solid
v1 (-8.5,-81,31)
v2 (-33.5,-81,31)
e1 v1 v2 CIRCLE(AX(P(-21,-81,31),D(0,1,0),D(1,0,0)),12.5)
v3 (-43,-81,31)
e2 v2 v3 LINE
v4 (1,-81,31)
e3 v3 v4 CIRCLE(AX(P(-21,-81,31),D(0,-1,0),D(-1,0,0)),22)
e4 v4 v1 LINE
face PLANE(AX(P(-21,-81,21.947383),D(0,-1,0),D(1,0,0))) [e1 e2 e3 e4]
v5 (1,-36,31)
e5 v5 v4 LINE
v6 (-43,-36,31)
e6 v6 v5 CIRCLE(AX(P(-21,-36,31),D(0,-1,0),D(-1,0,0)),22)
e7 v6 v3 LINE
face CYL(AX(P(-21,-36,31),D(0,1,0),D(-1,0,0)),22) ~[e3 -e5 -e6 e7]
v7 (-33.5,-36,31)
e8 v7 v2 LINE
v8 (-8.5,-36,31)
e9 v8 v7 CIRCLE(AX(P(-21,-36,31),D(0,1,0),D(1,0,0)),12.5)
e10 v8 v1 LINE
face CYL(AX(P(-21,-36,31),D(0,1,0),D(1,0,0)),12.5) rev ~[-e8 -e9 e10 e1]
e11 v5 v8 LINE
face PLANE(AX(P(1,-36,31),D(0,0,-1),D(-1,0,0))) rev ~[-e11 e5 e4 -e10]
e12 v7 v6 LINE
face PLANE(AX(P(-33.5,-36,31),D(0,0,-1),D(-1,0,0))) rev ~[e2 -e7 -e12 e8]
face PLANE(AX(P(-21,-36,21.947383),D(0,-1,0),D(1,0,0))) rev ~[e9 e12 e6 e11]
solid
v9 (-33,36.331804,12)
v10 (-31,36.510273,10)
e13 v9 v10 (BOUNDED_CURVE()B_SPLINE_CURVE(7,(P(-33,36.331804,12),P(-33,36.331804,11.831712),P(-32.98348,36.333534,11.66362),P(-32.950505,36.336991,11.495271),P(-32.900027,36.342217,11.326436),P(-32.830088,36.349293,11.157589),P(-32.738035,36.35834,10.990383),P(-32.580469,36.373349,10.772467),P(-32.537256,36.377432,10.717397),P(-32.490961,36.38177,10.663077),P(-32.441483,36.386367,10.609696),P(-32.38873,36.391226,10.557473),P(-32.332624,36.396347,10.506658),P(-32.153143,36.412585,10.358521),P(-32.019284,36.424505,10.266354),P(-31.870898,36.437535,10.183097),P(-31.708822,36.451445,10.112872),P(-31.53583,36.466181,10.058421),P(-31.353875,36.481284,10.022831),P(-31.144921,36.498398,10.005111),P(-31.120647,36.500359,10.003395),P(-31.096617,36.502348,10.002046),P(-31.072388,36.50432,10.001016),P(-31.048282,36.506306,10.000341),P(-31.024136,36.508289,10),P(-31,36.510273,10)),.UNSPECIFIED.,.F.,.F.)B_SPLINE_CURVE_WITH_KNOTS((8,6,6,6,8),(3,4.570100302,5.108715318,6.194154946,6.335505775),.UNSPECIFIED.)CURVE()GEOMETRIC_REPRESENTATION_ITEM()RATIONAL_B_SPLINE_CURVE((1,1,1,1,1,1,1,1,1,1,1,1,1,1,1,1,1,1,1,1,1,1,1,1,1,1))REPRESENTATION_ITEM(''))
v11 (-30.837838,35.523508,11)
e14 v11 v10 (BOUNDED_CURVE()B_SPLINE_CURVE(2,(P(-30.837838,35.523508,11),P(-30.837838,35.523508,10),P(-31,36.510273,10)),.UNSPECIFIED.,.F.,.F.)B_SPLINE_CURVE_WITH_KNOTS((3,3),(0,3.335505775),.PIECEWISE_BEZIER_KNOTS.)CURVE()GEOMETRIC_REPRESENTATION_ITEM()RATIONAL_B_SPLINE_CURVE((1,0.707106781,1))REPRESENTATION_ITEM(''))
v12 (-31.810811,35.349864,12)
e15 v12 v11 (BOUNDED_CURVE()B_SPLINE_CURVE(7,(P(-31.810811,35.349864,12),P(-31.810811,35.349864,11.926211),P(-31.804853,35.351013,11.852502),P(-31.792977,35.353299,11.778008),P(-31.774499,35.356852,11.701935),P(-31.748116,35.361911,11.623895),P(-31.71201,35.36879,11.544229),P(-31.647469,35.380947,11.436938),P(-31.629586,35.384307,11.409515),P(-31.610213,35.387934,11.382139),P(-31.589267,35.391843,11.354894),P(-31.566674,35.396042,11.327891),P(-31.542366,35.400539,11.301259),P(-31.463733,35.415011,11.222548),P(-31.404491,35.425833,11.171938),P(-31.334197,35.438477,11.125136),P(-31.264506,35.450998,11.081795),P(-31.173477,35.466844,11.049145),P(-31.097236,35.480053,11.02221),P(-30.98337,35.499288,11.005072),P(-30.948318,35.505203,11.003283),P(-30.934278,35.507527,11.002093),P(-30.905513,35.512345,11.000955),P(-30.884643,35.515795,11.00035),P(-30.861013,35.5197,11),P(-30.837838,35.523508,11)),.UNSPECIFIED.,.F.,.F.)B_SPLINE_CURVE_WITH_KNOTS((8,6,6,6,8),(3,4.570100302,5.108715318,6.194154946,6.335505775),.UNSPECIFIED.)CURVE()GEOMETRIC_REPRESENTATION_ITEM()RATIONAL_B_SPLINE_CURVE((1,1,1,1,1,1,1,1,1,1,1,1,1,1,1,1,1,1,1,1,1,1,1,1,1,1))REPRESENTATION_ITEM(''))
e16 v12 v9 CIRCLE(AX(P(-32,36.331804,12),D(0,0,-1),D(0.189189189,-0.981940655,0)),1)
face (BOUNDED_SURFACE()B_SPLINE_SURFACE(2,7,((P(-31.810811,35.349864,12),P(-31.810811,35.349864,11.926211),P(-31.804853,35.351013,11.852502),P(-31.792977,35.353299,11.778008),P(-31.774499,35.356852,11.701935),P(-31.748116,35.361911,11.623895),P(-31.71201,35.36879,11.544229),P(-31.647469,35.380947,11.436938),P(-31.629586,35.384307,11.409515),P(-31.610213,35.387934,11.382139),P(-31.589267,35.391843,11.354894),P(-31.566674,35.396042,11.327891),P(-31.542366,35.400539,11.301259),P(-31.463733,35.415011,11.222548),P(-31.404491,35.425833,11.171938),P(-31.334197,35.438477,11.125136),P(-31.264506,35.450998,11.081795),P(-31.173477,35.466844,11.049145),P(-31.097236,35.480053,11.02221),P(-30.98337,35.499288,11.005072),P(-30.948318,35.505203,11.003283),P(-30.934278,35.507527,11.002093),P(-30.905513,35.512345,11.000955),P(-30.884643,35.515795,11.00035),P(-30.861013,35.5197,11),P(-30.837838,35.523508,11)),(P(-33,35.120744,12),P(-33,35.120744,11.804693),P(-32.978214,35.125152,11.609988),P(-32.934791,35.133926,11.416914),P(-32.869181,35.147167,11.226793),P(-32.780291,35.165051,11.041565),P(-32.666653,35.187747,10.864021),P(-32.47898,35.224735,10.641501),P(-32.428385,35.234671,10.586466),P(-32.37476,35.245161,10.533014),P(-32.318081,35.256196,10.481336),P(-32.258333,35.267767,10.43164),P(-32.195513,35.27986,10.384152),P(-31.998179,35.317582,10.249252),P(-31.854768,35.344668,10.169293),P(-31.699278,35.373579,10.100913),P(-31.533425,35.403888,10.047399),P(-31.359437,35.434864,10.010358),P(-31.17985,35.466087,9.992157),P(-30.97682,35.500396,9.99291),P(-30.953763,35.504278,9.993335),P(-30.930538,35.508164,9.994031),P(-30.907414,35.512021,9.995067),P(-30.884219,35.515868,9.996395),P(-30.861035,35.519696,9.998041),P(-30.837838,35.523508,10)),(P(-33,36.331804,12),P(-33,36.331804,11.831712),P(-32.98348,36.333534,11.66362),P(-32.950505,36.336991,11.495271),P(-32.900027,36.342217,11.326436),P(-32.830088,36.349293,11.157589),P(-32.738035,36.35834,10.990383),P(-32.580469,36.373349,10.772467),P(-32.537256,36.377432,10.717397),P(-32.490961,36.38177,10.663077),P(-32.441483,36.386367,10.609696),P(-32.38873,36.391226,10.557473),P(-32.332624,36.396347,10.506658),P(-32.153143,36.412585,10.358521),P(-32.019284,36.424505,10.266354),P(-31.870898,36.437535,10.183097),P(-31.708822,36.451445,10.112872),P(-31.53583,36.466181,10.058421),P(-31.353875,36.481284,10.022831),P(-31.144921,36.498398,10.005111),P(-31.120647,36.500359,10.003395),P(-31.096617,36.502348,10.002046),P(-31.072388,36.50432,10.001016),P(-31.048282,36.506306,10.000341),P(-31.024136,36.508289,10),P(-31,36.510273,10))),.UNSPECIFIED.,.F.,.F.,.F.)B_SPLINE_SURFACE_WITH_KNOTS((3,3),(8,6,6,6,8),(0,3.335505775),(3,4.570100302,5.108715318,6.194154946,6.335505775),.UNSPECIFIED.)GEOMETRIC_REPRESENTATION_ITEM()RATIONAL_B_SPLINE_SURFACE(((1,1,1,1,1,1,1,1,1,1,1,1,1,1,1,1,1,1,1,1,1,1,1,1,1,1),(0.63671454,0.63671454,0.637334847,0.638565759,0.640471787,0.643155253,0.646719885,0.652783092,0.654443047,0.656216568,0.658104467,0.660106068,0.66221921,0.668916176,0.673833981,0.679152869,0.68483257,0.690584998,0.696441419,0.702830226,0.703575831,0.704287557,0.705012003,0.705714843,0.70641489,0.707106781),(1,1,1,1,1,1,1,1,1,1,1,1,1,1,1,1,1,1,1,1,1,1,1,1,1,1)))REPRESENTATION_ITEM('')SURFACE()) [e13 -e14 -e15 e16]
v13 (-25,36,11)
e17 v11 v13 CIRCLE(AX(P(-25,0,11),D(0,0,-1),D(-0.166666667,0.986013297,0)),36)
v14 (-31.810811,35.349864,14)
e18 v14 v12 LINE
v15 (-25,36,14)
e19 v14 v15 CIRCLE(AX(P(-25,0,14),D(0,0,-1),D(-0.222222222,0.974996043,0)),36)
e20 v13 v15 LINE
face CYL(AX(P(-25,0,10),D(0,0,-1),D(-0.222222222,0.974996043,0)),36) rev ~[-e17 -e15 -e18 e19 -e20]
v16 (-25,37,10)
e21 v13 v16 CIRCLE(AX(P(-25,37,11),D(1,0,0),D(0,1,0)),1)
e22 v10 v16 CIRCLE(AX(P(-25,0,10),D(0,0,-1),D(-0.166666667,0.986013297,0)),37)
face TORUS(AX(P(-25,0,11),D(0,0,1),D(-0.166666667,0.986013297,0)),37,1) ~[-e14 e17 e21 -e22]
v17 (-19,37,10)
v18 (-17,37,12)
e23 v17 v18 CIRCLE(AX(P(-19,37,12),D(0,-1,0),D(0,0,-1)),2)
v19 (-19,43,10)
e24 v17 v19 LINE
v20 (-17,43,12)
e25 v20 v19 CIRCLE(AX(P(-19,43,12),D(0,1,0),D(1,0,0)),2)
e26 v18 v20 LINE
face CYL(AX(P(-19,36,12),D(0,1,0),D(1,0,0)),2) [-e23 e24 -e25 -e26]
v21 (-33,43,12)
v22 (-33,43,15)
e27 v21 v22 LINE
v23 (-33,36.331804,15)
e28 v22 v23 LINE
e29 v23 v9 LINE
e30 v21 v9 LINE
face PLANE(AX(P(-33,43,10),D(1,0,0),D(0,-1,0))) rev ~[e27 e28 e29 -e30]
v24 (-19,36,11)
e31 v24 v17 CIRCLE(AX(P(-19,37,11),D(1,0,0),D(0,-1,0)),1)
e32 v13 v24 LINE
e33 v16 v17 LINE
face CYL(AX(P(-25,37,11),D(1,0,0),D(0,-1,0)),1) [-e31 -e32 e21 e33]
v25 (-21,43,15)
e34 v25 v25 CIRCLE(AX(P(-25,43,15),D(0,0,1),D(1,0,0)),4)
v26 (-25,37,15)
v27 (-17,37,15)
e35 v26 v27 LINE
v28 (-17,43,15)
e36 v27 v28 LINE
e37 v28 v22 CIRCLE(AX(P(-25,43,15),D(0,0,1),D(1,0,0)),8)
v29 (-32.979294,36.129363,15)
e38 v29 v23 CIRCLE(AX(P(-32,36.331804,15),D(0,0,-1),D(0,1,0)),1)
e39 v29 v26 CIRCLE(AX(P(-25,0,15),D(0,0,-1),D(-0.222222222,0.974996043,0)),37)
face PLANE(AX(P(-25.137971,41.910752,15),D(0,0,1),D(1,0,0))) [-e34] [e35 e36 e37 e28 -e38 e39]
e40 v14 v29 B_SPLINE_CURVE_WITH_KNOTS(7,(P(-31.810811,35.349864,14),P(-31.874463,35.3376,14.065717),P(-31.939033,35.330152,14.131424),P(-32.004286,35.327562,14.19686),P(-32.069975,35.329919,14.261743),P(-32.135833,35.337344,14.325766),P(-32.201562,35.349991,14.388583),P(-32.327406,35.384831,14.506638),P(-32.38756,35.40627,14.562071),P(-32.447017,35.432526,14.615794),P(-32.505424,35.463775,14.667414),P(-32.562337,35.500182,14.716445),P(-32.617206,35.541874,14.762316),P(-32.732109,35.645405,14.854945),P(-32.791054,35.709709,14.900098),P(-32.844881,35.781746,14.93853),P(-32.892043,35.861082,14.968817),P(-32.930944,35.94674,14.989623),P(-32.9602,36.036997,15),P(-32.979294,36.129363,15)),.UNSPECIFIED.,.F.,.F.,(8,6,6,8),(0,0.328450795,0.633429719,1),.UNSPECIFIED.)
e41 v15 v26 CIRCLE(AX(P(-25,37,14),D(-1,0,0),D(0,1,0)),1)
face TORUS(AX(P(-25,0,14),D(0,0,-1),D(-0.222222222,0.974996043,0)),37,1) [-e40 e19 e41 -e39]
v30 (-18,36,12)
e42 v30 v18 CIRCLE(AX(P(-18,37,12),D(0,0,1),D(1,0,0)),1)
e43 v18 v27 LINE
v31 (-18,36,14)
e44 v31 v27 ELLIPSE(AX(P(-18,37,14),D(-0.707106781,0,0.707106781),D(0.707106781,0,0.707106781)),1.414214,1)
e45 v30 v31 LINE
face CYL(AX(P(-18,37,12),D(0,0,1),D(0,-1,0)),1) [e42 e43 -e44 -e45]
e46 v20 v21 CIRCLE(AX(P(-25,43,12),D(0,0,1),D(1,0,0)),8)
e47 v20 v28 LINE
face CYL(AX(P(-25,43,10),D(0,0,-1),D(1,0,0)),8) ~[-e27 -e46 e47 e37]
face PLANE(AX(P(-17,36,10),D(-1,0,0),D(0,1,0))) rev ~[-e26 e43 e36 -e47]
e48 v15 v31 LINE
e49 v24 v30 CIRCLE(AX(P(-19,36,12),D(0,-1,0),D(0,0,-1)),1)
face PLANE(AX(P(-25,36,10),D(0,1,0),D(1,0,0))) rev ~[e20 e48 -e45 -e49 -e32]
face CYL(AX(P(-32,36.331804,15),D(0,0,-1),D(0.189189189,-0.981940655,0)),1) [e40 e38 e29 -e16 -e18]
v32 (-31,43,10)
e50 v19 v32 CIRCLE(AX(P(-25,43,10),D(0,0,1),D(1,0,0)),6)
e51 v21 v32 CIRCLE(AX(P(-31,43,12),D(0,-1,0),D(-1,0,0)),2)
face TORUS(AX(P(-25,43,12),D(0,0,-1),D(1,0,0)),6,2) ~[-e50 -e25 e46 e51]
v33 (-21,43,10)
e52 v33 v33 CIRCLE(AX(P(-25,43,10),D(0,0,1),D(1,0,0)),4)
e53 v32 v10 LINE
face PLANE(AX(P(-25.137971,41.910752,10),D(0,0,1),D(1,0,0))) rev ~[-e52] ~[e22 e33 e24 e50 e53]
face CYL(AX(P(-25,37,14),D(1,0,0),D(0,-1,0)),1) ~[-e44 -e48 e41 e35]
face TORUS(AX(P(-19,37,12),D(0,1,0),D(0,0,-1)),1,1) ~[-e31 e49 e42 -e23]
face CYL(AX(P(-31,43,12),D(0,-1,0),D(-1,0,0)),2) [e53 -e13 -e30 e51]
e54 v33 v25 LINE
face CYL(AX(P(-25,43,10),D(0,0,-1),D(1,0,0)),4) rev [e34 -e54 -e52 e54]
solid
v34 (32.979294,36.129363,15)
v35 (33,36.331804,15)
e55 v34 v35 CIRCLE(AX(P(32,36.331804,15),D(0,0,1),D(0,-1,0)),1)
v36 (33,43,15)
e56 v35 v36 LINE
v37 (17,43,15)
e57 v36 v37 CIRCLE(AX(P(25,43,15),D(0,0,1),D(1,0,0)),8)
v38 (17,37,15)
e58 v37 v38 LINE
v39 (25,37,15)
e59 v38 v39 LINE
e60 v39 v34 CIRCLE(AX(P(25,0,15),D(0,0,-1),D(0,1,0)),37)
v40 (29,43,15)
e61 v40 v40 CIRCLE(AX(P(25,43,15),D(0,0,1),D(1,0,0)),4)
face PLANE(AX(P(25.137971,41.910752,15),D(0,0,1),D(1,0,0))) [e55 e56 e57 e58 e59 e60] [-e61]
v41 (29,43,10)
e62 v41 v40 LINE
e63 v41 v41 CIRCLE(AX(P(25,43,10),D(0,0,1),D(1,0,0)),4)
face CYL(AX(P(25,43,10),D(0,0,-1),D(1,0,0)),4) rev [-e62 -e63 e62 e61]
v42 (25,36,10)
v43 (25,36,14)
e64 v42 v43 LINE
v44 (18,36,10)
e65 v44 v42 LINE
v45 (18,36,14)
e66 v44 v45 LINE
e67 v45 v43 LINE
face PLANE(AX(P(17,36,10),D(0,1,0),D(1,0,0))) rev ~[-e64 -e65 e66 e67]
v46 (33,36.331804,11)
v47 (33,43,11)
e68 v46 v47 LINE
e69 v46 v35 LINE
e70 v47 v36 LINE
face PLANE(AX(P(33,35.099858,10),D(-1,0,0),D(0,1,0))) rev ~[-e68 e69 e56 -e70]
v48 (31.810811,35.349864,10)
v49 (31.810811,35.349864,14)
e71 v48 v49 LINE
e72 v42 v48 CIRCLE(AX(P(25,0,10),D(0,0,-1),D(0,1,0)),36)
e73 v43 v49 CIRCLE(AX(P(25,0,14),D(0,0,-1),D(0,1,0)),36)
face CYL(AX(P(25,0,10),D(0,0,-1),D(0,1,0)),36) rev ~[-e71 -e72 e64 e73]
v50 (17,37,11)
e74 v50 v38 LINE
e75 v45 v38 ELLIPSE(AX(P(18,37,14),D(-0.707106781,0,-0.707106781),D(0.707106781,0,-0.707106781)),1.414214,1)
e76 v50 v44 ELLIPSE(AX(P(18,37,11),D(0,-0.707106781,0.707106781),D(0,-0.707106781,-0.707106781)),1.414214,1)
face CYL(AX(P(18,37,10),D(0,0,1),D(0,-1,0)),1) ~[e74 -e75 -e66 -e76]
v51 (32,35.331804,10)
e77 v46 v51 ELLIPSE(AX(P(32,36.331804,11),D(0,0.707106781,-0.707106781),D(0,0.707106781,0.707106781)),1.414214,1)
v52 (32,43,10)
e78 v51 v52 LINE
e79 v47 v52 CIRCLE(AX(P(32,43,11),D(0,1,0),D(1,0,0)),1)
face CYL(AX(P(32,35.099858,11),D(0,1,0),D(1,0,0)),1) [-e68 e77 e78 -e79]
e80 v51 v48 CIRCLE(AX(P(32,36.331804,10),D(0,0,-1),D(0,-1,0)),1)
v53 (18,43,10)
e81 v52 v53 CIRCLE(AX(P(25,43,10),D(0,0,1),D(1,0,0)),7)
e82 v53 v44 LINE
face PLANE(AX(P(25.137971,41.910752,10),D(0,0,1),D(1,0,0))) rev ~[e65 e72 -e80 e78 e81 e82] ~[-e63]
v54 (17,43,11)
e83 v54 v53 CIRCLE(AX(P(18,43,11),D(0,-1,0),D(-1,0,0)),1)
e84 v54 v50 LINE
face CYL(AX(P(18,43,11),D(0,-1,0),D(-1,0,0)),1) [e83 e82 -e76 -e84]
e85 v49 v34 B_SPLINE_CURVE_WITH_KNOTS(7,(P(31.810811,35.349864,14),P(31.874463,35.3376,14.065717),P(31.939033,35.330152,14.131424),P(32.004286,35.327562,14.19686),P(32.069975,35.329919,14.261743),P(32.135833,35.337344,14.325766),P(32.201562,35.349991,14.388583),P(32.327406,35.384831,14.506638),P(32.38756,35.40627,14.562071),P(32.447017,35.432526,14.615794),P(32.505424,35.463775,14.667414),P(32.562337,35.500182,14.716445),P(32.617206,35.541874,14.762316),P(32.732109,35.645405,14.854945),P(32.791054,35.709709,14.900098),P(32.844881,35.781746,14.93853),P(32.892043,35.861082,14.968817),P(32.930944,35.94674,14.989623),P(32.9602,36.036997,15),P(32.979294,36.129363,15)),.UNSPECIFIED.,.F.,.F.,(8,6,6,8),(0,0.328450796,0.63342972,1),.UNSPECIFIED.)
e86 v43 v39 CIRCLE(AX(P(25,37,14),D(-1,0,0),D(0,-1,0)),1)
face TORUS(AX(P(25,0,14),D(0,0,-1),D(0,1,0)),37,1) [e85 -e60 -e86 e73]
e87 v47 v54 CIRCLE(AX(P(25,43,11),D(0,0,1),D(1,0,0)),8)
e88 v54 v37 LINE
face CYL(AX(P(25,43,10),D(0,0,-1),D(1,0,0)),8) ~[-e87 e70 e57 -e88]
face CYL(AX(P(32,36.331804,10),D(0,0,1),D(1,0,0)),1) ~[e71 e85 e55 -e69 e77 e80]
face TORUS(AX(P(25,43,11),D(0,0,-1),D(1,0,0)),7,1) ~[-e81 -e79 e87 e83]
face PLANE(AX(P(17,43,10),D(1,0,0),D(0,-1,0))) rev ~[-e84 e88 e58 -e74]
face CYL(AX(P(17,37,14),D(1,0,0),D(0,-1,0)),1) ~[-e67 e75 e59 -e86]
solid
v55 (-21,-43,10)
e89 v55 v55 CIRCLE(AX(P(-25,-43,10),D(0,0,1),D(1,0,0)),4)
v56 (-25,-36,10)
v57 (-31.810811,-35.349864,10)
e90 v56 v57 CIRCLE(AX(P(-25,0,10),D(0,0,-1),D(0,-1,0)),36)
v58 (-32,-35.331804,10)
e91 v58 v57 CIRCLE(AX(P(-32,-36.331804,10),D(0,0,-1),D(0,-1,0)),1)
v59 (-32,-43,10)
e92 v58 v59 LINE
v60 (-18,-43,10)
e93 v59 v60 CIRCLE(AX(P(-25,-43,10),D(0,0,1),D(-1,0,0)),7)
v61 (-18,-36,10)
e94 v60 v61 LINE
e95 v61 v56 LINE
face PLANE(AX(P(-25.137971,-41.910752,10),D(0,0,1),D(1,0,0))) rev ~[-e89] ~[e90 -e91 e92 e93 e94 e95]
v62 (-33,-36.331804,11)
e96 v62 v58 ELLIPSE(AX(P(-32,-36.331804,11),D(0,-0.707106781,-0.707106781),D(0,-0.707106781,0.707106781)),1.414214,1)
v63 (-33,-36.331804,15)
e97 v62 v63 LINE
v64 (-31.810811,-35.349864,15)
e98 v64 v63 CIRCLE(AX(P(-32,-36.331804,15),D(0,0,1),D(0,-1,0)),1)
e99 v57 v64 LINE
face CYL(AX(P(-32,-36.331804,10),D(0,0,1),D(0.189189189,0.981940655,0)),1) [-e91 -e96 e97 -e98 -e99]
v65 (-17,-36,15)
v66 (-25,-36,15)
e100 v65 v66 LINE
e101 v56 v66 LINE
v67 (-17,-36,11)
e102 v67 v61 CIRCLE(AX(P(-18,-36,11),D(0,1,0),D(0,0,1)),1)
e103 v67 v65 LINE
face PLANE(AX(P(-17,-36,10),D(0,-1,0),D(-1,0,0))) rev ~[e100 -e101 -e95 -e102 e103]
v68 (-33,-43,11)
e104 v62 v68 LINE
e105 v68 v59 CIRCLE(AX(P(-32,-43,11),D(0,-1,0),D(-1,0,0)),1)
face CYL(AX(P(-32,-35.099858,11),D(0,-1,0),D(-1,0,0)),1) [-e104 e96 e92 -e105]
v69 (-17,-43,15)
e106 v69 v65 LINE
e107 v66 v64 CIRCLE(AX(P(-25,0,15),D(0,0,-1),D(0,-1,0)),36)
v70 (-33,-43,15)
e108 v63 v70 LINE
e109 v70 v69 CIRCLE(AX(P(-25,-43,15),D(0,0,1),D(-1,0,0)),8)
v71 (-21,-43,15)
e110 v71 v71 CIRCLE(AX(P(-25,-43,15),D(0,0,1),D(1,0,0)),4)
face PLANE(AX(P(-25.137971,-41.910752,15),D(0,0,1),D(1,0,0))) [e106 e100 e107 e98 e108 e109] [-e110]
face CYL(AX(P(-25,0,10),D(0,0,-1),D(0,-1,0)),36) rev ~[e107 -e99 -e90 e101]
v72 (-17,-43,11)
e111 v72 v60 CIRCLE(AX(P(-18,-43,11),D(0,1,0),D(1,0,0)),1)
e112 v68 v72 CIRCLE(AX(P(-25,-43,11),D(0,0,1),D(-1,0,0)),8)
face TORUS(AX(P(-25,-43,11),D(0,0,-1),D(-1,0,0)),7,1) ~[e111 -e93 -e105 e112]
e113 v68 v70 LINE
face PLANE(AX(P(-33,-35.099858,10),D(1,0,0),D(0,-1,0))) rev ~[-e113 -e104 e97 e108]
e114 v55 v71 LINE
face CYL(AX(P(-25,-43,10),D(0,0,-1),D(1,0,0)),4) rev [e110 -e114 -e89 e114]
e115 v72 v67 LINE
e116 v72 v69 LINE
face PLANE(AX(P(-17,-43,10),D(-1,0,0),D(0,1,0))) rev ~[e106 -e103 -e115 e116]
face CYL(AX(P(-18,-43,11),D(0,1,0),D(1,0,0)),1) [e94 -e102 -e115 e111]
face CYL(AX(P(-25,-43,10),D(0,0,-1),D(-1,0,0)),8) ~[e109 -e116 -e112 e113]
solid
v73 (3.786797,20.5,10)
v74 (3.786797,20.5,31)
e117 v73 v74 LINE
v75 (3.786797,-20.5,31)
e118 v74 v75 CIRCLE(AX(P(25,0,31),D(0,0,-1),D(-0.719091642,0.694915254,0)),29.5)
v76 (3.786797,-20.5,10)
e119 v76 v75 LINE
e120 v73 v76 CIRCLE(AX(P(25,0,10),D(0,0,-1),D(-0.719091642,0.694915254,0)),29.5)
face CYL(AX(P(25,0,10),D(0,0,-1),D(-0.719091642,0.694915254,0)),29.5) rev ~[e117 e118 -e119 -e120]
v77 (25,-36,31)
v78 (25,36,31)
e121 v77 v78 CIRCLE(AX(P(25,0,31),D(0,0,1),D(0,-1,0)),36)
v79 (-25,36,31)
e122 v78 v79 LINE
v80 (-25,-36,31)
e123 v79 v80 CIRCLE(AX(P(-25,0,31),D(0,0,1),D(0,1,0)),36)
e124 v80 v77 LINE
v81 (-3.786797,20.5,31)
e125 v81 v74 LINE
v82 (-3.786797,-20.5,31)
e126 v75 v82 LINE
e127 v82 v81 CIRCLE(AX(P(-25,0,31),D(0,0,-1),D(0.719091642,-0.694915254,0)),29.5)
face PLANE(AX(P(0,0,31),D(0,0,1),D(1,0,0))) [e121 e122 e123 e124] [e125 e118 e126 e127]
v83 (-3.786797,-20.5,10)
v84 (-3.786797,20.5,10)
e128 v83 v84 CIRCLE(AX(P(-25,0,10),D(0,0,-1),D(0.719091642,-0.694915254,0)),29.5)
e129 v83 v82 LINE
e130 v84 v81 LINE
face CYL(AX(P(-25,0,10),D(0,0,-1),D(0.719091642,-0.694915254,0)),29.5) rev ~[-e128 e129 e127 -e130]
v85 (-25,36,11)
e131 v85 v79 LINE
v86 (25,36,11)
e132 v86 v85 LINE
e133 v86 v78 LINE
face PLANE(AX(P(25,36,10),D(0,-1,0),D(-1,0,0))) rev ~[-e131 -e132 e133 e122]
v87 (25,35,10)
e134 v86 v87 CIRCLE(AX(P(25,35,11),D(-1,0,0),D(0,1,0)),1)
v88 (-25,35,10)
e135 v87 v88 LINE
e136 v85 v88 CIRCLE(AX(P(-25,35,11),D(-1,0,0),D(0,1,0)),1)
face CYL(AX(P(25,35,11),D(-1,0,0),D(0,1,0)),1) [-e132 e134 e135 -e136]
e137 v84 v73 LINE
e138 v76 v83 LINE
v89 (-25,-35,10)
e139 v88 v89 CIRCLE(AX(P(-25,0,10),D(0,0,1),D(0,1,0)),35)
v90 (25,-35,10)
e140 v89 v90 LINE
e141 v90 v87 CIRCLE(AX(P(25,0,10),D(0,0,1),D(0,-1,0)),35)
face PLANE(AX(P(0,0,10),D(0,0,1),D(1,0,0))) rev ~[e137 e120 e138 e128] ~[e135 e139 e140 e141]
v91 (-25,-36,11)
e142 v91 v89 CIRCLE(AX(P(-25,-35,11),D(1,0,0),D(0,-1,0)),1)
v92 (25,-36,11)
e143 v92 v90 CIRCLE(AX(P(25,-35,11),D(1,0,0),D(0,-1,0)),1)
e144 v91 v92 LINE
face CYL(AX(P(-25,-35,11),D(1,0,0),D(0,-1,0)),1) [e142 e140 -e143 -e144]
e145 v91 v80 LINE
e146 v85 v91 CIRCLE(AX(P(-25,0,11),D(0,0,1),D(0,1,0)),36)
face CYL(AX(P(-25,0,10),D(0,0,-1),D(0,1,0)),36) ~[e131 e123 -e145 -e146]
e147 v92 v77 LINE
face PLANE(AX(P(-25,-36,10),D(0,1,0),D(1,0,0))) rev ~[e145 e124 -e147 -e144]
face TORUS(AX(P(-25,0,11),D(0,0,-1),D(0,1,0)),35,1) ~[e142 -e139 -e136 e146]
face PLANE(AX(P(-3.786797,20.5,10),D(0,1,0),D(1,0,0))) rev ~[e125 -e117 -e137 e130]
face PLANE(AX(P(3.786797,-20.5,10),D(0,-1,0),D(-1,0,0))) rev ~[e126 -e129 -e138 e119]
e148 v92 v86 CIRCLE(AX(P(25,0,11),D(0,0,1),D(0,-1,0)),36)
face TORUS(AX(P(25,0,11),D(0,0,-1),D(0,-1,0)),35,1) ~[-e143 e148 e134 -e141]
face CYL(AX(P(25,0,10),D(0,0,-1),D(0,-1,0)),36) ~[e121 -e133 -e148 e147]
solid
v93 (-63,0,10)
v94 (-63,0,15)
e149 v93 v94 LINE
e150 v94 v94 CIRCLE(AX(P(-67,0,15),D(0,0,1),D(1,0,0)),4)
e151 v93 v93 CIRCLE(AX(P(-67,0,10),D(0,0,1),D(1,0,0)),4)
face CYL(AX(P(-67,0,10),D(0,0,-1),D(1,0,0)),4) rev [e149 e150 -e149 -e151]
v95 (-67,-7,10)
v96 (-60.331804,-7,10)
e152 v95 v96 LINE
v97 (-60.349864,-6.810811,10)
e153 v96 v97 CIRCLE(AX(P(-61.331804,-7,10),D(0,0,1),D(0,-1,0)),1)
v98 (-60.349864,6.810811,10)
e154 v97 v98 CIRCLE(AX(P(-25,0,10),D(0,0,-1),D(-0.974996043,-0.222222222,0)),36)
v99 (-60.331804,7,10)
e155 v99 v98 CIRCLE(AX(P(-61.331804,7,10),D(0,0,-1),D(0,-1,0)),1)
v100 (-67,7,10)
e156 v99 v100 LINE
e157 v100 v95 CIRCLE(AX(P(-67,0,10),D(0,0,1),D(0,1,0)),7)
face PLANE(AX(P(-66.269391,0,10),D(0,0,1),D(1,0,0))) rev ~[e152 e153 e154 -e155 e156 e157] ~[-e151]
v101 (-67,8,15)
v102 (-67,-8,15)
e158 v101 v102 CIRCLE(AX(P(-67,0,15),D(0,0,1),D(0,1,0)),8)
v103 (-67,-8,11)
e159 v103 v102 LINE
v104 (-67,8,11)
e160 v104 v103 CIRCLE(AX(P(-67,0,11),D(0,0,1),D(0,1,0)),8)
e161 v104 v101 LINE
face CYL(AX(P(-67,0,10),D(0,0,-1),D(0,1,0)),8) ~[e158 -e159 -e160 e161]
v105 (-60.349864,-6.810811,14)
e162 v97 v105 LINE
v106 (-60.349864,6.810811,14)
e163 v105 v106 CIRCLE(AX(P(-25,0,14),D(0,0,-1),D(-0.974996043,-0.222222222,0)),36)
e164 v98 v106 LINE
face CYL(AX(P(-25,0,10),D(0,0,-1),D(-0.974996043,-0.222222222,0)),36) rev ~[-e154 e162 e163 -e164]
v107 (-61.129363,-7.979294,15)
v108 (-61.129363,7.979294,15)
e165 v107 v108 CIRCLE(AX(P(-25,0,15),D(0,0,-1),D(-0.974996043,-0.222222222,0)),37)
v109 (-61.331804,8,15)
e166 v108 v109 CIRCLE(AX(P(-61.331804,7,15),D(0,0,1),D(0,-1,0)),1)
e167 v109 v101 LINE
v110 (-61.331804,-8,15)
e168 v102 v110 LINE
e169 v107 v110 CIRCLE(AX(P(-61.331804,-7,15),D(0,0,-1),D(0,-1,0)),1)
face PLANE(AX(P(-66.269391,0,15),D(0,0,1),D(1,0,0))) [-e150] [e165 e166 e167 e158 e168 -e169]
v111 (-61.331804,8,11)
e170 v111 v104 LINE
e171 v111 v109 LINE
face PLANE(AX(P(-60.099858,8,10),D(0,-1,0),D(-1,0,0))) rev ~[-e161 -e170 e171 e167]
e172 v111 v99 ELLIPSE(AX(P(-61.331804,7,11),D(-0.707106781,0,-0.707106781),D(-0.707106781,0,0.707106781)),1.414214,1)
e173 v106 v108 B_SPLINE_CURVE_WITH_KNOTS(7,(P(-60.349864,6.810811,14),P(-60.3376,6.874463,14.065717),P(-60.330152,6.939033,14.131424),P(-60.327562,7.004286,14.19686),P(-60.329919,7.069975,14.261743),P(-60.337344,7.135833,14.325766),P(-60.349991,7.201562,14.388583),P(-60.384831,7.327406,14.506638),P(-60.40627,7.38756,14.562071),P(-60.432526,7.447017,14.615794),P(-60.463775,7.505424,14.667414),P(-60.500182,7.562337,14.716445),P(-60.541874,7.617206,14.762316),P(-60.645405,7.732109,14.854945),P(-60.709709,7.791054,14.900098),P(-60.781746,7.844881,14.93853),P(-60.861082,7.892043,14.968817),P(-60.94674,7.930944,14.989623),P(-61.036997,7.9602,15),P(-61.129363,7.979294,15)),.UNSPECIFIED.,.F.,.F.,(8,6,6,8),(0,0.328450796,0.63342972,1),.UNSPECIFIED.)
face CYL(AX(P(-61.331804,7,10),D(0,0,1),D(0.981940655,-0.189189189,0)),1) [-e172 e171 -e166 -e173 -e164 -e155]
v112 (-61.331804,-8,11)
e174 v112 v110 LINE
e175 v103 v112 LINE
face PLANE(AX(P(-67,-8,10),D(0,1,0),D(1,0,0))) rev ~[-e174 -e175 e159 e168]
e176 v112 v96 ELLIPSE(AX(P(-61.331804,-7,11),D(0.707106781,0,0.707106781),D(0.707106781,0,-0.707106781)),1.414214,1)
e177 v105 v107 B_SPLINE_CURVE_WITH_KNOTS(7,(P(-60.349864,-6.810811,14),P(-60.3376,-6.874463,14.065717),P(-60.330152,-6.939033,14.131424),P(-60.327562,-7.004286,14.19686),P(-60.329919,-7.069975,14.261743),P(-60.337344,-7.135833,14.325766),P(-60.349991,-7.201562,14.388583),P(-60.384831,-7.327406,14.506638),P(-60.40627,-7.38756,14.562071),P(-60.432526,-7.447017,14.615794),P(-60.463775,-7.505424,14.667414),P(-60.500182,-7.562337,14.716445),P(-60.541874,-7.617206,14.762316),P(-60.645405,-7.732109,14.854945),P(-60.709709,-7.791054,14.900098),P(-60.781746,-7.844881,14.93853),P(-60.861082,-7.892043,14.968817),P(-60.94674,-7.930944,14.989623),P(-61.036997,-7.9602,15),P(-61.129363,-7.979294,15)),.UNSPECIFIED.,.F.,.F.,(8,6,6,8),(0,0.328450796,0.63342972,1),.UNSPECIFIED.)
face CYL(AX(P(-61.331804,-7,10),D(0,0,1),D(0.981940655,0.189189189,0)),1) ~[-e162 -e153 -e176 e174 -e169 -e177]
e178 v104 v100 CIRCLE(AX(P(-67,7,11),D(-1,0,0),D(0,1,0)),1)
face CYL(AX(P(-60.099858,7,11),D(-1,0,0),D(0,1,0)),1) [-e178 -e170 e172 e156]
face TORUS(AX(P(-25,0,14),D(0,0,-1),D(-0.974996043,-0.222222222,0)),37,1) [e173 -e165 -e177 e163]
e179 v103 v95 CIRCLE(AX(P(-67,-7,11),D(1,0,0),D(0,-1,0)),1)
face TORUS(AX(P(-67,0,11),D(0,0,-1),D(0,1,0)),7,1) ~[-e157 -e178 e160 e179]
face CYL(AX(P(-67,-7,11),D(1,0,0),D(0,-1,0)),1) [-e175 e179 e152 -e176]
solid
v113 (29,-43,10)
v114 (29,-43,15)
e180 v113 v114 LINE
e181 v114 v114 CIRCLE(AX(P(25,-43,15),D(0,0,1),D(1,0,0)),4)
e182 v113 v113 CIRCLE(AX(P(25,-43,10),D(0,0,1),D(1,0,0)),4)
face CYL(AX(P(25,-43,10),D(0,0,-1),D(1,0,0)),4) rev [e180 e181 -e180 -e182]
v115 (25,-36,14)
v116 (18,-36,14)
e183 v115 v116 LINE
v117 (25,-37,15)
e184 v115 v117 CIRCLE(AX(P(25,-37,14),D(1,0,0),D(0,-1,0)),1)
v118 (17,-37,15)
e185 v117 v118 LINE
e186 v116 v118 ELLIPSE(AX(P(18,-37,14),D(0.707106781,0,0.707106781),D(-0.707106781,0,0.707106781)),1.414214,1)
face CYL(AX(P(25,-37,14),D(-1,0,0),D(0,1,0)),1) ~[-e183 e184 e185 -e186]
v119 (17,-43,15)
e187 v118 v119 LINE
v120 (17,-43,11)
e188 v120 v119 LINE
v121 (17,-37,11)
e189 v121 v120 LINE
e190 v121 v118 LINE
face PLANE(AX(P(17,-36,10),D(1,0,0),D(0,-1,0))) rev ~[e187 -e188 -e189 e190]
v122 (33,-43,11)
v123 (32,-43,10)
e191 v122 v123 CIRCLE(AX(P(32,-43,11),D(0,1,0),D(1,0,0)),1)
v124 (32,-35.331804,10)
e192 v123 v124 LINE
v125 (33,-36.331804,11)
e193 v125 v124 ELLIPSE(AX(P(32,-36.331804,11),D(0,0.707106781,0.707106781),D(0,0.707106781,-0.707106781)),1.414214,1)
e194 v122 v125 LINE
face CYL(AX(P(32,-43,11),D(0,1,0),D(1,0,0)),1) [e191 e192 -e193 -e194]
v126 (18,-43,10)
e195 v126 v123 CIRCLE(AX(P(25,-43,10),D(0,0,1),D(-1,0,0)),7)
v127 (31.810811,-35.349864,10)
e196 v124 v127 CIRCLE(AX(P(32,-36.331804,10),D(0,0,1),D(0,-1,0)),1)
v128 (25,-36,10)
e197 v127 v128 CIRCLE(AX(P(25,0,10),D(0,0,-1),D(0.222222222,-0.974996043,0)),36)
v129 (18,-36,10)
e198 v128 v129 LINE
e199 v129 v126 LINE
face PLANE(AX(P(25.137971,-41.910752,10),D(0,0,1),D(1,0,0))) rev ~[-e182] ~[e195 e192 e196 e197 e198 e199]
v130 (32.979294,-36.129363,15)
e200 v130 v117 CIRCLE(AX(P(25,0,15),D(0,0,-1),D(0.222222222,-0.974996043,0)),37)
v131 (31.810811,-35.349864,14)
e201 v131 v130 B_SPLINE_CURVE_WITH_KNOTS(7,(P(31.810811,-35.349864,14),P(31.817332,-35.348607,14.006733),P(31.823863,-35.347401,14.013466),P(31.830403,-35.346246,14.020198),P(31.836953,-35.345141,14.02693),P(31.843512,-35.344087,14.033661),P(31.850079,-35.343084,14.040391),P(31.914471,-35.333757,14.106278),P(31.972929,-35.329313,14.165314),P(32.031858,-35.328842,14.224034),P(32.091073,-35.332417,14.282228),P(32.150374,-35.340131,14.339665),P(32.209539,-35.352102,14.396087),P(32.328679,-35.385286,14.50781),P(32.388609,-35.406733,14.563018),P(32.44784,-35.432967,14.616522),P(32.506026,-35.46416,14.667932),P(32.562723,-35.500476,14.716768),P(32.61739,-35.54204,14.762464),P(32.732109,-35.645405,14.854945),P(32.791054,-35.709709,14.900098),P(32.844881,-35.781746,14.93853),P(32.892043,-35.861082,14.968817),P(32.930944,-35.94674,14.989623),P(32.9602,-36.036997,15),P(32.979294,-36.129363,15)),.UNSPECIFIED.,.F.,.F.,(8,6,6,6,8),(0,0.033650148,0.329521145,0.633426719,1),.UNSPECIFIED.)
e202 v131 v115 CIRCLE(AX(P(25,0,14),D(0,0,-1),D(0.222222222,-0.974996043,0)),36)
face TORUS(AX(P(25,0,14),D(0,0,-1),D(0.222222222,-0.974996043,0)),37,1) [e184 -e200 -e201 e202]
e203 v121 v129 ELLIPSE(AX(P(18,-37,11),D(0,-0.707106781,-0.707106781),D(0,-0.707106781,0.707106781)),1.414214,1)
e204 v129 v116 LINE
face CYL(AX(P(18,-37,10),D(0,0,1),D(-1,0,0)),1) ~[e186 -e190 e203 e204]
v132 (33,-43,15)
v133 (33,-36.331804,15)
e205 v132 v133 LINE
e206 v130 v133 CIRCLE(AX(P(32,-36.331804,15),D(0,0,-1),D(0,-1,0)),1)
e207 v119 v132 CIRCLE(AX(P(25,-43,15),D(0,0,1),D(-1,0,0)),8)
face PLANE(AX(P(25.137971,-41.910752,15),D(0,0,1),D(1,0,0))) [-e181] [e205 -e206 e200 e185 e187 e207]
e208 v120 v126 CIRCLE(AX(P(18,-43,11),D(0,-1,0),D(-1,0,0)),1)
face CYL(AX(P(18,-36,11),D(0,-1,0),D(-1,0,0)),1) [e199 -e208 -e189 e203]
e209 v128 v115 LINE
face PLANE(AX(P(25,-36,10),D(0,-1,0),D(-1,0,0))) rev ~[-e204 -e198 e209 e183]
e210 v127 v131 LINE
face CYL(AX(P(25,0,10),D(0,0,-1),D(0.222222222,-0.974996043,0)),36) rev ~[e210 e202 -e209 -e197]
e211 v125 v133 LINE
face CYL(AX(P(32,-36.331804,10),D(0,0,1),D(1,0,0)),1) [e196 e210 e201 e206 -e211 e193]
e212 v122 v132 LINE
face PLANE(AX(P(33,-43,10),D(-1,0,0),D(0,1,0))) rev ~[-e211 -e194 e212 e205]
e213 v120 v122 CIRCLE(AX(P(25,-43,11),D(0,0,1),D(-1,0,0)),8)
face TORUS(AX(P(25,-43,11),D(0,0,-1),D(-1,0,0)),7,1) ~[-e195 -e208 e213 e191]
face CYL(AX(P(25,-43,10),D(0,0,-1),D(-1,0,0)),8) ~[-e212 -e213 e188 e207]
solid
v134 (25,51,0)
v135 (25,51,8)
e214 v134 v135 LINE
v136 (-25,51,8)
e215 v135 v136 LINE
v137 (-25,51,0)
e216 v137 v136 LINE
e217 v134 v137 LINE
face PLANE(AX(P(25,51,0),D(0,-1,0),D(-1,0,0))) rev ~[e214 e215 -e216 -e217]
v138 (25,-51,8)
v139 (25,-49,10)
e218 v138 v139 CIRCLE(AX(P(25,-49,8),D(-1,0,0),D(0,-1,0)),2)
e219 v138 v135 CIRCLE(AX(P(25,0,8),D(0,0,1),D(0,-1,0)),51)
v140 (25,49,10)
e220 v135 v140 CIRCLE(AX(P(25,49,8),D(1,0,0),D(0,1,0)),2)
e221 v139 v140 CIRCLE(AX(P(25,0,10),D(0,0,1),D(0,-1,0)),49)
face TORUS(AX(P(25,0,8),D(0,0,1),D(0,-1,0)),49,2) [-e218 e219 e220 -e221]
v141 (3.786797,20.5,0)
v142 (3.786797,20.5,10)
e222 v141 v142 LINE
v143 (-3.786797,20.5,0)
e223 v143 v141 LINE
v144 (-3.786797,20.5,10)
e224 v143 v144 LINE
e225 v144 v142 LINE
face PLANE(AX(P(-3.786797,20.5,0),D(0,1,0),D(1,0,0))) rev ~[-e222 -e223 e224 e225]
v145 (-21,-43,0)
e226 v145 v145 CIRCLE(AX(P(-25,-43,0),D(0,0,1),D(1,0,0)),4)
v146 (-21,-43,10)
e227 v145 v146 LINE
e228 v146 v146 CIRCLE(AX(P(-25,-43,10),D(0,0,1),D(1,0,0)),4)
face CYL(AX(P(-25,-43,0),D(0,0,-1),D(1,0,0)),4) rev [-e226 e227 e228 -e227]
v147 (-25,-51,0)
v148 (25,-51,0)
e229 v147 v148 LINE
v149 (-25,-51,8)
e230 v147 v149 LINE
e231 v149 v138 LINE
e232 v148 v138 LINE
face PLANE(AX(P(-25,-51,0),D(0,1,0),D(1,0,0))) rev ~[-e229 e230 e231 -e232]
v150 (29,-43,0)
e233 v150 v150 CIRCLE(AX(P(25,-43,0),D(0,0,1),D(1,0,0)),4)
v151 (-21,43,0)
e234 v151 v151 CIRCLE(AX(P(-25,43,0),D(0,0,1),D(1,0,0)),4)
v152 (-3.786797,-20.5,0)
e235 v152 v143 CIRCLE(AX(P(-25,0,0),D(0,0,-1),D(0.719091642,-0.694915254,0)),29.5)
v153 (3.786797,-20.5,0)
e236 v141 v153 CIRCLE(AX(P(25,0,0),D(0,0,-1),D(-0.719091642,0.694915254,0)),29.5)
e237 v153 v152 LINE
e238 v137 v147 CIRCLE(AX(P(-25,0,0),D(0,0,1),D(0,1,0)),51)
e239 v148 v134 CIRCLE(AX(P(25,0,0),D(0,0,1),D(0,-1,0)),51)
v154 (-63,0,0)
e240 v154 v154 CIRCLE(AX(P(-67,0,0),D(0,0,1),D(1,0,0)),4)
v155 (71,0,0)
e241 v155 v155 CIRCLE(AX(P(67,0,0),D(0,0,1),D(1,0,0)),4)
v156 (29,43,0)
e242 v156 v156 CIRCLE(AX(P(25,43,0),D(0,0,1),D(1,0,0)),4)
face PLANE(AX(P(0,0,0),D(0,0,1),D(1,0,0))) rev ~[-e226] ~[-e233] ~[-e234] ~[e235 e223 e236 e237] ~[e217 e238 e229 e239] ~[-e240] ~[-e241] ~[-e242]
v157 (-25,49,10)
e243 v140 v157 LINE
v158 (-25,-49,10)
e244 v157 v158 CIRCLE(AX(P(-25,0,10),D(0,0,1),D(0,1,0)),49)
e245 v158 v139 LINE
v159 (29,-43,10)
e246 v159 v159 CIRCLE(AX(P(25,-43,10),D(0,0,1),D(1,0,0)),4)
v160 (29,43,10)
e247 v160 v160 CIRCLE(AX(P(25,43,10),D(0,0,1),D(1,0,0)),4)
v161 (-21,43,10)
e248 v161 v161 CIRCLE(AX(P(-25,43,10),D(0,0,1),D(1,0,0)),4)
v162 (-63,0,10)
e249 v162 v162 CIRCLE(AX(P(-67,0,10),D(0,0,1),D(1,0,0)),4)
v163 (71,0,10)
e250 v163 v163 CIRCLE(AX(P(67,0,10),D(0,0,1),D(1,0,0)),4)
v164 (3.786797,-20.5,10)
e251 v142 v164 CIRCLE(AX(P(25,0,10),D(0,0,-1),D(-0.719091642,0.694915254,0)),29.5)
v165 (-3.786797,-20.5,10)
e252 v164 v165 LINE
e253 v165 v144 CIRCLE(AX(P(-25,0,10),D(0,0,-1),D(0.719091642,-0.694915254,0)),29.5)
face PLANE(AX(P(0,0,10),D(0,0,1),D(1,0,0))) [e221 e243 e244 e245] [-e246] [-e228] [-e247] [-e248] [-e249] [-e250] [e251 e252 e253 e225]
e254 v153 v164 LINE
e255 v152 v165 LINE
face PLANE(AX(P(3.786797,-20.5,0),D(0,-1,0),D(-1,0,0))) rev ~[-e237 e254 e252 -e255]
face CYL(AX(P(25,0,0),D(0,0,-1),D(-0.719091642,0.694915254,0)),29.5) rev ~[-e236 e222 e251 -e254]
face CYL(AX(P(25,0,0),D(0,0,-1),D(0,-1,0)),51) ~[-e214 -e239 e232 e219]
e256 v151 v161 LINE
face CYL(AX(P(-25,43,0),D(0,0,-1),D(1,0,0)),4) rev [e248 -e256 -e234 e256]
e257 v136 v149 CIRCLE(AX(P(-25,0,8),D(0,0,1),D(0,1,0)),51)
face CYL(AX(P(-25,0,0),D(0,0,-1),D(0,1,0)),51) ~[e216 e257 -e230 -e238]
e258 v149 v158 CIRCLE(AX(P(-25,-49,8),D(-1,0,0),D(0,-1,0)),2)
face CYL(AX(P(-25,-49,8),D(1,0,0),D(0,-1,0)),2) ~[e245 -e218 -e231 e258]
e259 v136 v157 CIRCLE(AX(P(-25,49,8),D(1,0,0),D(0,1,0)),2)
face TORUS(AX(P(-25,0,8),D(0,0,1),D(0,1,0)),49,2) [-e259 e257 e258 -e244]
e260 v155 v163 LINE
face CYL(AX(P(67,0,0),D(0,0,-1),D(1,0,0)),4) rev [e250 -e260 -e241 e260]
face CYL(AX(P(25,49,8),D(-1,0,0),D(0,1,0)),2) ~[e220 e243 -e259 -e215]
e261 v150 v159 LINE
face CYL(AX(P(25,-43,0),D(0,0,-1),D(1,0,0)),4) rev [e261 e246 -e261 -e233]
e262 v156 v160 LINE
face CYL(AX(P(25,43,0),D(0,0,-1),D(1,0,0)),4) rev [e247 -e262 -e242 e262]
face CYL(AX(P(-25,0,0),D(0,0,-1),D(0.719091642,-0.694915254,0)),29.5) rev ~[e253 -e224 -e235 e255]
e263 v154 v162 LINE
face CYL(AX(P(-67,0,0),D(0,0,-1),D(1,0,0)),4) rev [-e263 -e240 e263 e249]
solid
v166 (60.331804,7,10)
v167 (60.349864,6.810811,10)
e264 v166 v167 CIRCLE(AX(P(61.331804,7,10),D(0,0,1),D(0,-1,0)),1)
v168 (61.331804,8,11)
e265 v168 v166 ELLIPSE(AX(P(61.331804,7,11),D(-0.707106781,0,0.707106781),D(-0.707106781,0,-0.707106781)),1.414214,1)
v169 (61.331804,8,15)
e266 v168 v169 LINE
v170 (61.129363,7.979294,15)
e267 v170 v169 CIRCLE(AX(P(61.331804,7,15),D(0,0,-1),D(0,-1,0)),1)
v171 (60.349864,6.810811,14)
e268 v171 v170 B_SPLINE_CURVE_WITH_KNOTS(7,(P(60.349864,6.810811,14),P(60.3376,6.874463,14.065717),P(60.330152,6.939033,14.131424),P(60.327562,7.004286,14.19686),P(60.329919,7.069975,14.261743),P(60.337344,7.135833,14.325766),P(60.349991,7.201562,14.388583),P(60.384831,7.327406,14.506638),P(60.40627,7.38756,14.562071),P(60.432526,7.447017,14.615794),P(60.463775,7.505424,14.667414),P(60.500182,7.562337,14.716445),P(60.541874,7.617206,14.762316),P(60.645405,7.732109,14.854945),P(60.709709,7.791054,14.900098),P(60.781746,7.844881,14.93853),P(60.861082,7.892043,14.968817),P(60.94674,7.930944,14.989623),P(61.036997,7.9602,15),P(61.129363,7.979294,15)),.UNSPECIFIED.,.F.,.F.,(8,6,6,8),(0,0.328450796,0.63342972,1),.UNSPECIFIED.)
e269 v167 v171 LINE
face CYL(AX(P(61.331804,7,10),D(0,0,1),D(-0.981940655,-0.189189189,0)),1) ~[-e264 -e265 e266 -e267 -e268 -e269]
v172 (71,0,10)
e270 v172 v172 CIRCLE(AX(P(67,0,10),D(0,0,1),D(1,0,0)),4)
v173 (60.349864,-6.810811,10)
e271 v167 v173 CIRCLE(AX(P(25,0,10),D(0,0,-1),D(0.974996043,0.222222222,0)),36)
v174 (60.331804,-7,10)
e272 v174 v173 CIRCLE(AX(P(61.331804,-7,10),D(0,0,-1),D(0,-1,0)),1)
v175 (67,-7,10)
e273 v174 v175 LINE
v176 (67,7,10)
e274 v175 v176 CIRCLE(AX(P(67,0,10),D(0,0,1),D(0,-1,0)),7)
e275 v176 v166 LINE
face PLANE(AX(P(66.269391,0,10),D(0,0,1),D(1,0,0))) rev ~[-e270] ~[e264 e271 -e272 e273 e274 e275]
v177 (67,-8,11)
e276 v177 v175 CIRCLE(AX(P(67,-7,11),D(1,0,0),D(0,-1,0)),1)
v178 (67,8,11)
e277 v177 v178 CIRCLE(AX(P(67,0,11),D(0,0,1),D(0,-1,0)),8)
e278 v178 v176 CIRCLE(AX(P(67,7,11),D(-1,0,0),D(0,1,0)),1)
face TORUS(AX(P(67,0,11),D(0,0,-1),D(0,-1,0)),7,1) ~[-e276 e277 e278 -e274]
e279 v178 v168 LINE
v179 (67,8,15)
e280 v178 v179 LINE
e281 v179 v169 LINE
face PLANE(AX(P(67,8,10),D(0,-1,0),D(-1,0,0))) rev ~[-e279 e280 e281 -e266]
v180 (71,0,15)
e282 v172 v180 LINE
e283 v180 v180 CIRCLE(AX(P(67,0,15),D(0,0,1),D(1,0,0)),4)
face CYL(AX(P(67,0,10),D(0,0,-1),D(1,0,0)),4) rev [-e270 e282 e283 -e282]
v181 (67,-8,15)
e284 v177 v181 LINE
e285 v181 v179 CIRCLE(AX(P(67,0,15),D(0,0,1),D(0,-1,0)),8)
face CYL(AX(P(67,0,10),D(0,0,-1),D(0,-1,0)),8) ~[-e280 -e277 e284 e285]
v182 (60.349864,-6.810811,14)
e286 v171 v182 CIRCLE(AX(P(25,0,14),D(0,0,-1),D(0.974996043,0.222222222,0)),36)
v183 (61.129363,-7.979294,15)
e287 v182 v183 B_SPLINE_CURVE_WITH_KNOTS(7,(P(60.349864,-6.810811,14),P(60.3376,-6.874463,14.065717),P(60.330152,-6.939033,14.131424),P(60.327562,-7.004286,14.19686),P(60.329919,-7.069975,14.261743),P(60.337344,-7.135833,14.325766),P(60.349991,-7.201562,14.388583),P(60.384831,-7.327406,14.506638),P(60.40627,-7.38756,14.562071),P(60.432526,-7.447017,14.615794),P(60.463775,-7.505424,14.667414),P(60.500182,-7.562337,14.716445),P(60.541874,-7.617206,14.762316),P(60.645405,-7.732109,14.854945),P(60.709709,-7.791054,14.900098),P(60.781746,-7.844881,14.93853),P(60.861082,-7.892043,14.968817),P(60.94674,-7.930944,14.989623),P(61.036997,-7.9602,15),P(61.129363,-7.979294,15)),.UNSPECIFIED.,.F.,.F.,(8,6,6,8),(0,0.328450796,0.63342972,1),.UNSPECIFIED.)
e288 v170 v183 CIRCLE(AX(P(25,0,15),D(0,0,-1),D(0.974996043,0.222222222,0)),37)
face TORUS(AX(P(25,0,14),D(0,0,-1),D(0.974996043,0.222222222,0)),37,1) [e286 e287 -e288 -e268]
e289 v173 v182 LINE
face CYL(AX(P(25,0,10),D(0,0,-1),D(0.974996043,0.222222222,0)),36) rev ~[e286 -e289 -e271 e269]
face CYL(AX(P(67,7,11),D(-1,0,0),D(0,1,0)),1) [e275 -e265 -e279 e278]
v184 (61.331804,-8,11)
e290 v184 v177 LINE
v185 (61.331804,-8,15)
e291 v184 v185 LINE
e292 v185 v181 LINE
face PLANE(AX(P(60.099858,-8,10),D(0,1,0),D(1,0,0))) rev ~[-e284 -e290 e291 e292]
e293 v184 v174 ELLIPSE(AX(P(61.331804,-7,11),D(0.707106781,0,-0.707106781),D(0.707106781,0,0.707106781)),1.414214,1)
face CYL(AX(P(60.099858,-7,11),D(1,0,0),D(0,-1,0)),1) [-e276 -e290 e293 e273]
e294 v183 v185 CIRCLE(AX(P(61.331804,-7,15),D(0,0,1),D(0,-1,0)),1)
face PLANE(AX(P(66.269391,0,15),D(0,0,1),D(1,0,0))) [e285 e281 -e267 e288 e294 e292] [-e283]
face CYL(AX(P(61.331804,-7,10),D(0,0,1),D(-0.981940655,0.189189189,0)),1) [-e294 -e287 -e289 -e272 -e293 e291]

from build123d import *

# Parameters (mm, degrees)
F0_R     = 4
F1_DEPTH = 10
F3_DEPTH = 21
F4_R     = 4
F5_DEPTH = 5
F6_R     = 2
F6_2_R   = 2
F7_R     = 1
F9_DEPTH = 45
F11_R    = 1


with BuildPart() as f1:
    # F0 (on Top) → F1 (new body)
    with BuildSketch(Plane.XY):
        with BuildLine():
            Line((25, 51), (-25, 51))
            ThreePointArc((-25, 51), (-76, 0), (-25, -51))
            Line((-25, -51), (25, -51))
            ThreePointArc((25, -51), (76, 0), (25, 51))
        make_face()
        with Locations((-25, -43)):
            Circle(F0_R, mode=Mode.SUBTRACT)
        with Locations((25, -43)):
            Circle(F0_R, mode=Mode.SUBTRACT)
        with Locations((-67, 0)):
            Circle(F0_R, mode=Mode.SUBTRACT)
        with Locations((-25, 43)):
            Circle(F0_R, mode=Mode.SUBTRACT)
        with BuildLine():
            ThreePointArc((-3.7867965644, -20.5), (-54.5, 0), (-3.7867965644, 20.5))
            Line((-3.7867965644, 20.5), (3.7867965644, 20.5))
            ThreePointArc((3.7867965644, 20.5), (54.5, 0), (3.7867965644, -20.5))
            Line((3.7867965644, -20.5), (-3.7867965644, -20.5))
        make_face(mode=Mode.SUBTRACT)
        with Locations((67, 0)):
            Circle(F0_R, mode=Mode.SUBTRACT)
        with Locations((25, 43)):
            Circle(F0_R, mode=Mode.SUBTRACT)
    extrude(amount=F1_DEPTH)

    # F6#2
    f6_2_edges = [f1.edges().sort_by_distance(p)[0] for p in [
        (-76, 0, 10),
    ]]
    fillet(f6_2_edges, radius=F6_2_R)


with BuildPart() as f3:
    # F2 (on face) → F3 (new body)
    with BuildSketch(Plane.XY.offset(10)):
        with BuildLine():
            Line((-25, -36), (25, -36))
            ThreePointArc((25, -36), (61, 0), (25, 36))
            Line((25, 36), (-25, 36))
            ThreePointArc((-25, 36), (-61, 0), (-25, -36))
        make_face()
        with BuildLine():
            ThreePointArc((-3.7867965644, -20.5), (-54.5, 0), (-3.7867965644, 20.5))
            Line((-3.7867965644, 20.5), (3.7867965644, 20.5))
            ThreePointArc((3.7867965644, 20.5), (54.5, 0), (3.7867965644, -20.5))
            Line((3.7867965644, -20.5), (-3.7867965644, -20.5))
        make_face(mode=Mode.SUBTRACT)
    extrude(amount=F3_DEPTH)

    # F7
    f7_edges = [f3.edges().sort_by_distance(p)[0] for p in [
        (0, -36, 10),
    ]]
    fillet(f7_edges, radius=F7_R)


with BuildPart() as f5:
    # F4 (on face) → F5 (new body)
    with BuildSketch(Plane.XY.offset(10)):
        with BuildLine():
            ThreePointArc((60.0998575496, 8), (61, 0), (60.0998575496, -8))
            Line((60.0998575496, -8), (67, -8))
            ThreePointArc((67, -8), (75, 0), (67, 8))
            Line((67, 8), (60.0998575496, 8))
        make_face()
        with Locations((67, 0)):
            Circle(F4_R, mode=Mode.SUBTRACT)
        with BuildLine():
            Line((33, 35.0998575496), (33, 43))
            ThreePointArc((33, 43), (25, 51), (17, 43))
            Line((17, 43), (17, 36))
            Line((17, 36), (25, 36))
            ThreePointArc((25, 36), (29.0252408757, 35.7742566085), (33, 35.0998575496))
        make_face()
        with Locations((25, 43)):
            Circle(F4_R, mode=Mode.SUBTRACT)
        with BuildLine():
            ThreePointArc((17, -43), (25, -51), (33, -43))
            Line((33, -43), (33, -35.0998575496))
            ThreePointArc((33, -35.0998575496), (29.0252408757, -35.7742566085), (25, -36))
            Line((25, -36), (17, -36))
            Line((17, -36), (17, -43))
        make_face()
        with Locations((25, -43)):
            Circle(F4_R, mode=Mode.SUBTRACT)
        with BuildLine():
            Line((-25, 36), (-17, 36))
            Line((-17, 36), (-17, 43))
            ThreePointArc((-17, 43), (-25, 51), (-33, 43))
            Line((-33, 43), (-33, 35.0998575496))
            ThreePointArc((-33, 35.0998575496), (-29.0252408757, 35.7742566085), (-25, 36))
        make_face()
        with Locations((-25, 43)):
            Circle(F4_R, mode=Mode.SUBTRACT)
        with BuildLine():
            ThreePointArc((-60.0998575496, -8), (-61, 0), (-60.0998575496, 8))
            Line((-60.0998575496, 8), (-67, 8))
            ThreePointArc((-67, 8), (-75, 0), (-67, -8))
            Line((-67, -8), (-60.0998575496, -8))
        make_face()
        with Locations((-67, 0)):
            Circle(F4_R, mode=Mode.SUBTRACT)
        with BuildLine():
            ThreePointArc((-25, -36), (-29.0252408757, -35.7742566085), (-33, -35.0998575496))
            Line((-33, -35.0998575496), (-33, -43))
            ThreePointArc((-33, -43), (-25, -51), (-17, -43))
            Line((-17, -43), (-17, -36))
            Line((-17, -36), (-25, -36))
        make_face()
        with Locations((-25, -43)):
            Circle(F4_R, mode=Mode.SUBTRACT)
    extrude(amount=F5_DEPTH)

    # F6
    f6_edges = [f5.edges().sort_by_distance(p)[0] for p in [
        (-25, 51, 10),
    ]]
    fillet(f6_edges, radius=F6_R)

    # F11
    f11_edges = [f5.edges().sort_by_distance(p)[0] for p in [
        (25, -51, 10),
        (33, -35.099858, 12.5),
        (29.025241, -35.774257, 15),
        (17, -36, 12.5),
        (-33, -39.049929, 10),
        (-33, -35.099858, 12.5),
        (-75, 0, 10),
        (-61, 0, 15),
        (-60.099858, 8, 12.5),
        (-60.099858, -8, 12.5),
        (-21, 36, 15),
        (-17, 36, 13.5),
        (33, 39.049929, 10),
        (33, 35.099858, 12.5),
        (29.025241, 35.774257, 15),
        (17, 36, 12.5),
        (75, 0, 10),
        (61, 0, 15),
        (60.099858, -8, 12.5),
        (60.099858, 8, 12.5),
    ]]
    fillet(f11_edges, radius=F11_R)


with BuildPart() as f9:
    # F8 (on face) → F9 (new body)
    with BuildSketch(Plane.XZ.offset(36)):
        with BuildLine():
            ThreePointArc((-8.5, 31), (-21, 18.5), (-33.5, 31))
            Line((-33.5, 31), (-43, 31))
            ThreePointArc((-43, 31), (-21, 9), (1, 31))
            Line((1, 31), (-8.5, 31))
        make_face()
    extrude(amount=F9_DEPTH)


solid = Compound([f1.part, f3.part, f5.part, f9.part])
